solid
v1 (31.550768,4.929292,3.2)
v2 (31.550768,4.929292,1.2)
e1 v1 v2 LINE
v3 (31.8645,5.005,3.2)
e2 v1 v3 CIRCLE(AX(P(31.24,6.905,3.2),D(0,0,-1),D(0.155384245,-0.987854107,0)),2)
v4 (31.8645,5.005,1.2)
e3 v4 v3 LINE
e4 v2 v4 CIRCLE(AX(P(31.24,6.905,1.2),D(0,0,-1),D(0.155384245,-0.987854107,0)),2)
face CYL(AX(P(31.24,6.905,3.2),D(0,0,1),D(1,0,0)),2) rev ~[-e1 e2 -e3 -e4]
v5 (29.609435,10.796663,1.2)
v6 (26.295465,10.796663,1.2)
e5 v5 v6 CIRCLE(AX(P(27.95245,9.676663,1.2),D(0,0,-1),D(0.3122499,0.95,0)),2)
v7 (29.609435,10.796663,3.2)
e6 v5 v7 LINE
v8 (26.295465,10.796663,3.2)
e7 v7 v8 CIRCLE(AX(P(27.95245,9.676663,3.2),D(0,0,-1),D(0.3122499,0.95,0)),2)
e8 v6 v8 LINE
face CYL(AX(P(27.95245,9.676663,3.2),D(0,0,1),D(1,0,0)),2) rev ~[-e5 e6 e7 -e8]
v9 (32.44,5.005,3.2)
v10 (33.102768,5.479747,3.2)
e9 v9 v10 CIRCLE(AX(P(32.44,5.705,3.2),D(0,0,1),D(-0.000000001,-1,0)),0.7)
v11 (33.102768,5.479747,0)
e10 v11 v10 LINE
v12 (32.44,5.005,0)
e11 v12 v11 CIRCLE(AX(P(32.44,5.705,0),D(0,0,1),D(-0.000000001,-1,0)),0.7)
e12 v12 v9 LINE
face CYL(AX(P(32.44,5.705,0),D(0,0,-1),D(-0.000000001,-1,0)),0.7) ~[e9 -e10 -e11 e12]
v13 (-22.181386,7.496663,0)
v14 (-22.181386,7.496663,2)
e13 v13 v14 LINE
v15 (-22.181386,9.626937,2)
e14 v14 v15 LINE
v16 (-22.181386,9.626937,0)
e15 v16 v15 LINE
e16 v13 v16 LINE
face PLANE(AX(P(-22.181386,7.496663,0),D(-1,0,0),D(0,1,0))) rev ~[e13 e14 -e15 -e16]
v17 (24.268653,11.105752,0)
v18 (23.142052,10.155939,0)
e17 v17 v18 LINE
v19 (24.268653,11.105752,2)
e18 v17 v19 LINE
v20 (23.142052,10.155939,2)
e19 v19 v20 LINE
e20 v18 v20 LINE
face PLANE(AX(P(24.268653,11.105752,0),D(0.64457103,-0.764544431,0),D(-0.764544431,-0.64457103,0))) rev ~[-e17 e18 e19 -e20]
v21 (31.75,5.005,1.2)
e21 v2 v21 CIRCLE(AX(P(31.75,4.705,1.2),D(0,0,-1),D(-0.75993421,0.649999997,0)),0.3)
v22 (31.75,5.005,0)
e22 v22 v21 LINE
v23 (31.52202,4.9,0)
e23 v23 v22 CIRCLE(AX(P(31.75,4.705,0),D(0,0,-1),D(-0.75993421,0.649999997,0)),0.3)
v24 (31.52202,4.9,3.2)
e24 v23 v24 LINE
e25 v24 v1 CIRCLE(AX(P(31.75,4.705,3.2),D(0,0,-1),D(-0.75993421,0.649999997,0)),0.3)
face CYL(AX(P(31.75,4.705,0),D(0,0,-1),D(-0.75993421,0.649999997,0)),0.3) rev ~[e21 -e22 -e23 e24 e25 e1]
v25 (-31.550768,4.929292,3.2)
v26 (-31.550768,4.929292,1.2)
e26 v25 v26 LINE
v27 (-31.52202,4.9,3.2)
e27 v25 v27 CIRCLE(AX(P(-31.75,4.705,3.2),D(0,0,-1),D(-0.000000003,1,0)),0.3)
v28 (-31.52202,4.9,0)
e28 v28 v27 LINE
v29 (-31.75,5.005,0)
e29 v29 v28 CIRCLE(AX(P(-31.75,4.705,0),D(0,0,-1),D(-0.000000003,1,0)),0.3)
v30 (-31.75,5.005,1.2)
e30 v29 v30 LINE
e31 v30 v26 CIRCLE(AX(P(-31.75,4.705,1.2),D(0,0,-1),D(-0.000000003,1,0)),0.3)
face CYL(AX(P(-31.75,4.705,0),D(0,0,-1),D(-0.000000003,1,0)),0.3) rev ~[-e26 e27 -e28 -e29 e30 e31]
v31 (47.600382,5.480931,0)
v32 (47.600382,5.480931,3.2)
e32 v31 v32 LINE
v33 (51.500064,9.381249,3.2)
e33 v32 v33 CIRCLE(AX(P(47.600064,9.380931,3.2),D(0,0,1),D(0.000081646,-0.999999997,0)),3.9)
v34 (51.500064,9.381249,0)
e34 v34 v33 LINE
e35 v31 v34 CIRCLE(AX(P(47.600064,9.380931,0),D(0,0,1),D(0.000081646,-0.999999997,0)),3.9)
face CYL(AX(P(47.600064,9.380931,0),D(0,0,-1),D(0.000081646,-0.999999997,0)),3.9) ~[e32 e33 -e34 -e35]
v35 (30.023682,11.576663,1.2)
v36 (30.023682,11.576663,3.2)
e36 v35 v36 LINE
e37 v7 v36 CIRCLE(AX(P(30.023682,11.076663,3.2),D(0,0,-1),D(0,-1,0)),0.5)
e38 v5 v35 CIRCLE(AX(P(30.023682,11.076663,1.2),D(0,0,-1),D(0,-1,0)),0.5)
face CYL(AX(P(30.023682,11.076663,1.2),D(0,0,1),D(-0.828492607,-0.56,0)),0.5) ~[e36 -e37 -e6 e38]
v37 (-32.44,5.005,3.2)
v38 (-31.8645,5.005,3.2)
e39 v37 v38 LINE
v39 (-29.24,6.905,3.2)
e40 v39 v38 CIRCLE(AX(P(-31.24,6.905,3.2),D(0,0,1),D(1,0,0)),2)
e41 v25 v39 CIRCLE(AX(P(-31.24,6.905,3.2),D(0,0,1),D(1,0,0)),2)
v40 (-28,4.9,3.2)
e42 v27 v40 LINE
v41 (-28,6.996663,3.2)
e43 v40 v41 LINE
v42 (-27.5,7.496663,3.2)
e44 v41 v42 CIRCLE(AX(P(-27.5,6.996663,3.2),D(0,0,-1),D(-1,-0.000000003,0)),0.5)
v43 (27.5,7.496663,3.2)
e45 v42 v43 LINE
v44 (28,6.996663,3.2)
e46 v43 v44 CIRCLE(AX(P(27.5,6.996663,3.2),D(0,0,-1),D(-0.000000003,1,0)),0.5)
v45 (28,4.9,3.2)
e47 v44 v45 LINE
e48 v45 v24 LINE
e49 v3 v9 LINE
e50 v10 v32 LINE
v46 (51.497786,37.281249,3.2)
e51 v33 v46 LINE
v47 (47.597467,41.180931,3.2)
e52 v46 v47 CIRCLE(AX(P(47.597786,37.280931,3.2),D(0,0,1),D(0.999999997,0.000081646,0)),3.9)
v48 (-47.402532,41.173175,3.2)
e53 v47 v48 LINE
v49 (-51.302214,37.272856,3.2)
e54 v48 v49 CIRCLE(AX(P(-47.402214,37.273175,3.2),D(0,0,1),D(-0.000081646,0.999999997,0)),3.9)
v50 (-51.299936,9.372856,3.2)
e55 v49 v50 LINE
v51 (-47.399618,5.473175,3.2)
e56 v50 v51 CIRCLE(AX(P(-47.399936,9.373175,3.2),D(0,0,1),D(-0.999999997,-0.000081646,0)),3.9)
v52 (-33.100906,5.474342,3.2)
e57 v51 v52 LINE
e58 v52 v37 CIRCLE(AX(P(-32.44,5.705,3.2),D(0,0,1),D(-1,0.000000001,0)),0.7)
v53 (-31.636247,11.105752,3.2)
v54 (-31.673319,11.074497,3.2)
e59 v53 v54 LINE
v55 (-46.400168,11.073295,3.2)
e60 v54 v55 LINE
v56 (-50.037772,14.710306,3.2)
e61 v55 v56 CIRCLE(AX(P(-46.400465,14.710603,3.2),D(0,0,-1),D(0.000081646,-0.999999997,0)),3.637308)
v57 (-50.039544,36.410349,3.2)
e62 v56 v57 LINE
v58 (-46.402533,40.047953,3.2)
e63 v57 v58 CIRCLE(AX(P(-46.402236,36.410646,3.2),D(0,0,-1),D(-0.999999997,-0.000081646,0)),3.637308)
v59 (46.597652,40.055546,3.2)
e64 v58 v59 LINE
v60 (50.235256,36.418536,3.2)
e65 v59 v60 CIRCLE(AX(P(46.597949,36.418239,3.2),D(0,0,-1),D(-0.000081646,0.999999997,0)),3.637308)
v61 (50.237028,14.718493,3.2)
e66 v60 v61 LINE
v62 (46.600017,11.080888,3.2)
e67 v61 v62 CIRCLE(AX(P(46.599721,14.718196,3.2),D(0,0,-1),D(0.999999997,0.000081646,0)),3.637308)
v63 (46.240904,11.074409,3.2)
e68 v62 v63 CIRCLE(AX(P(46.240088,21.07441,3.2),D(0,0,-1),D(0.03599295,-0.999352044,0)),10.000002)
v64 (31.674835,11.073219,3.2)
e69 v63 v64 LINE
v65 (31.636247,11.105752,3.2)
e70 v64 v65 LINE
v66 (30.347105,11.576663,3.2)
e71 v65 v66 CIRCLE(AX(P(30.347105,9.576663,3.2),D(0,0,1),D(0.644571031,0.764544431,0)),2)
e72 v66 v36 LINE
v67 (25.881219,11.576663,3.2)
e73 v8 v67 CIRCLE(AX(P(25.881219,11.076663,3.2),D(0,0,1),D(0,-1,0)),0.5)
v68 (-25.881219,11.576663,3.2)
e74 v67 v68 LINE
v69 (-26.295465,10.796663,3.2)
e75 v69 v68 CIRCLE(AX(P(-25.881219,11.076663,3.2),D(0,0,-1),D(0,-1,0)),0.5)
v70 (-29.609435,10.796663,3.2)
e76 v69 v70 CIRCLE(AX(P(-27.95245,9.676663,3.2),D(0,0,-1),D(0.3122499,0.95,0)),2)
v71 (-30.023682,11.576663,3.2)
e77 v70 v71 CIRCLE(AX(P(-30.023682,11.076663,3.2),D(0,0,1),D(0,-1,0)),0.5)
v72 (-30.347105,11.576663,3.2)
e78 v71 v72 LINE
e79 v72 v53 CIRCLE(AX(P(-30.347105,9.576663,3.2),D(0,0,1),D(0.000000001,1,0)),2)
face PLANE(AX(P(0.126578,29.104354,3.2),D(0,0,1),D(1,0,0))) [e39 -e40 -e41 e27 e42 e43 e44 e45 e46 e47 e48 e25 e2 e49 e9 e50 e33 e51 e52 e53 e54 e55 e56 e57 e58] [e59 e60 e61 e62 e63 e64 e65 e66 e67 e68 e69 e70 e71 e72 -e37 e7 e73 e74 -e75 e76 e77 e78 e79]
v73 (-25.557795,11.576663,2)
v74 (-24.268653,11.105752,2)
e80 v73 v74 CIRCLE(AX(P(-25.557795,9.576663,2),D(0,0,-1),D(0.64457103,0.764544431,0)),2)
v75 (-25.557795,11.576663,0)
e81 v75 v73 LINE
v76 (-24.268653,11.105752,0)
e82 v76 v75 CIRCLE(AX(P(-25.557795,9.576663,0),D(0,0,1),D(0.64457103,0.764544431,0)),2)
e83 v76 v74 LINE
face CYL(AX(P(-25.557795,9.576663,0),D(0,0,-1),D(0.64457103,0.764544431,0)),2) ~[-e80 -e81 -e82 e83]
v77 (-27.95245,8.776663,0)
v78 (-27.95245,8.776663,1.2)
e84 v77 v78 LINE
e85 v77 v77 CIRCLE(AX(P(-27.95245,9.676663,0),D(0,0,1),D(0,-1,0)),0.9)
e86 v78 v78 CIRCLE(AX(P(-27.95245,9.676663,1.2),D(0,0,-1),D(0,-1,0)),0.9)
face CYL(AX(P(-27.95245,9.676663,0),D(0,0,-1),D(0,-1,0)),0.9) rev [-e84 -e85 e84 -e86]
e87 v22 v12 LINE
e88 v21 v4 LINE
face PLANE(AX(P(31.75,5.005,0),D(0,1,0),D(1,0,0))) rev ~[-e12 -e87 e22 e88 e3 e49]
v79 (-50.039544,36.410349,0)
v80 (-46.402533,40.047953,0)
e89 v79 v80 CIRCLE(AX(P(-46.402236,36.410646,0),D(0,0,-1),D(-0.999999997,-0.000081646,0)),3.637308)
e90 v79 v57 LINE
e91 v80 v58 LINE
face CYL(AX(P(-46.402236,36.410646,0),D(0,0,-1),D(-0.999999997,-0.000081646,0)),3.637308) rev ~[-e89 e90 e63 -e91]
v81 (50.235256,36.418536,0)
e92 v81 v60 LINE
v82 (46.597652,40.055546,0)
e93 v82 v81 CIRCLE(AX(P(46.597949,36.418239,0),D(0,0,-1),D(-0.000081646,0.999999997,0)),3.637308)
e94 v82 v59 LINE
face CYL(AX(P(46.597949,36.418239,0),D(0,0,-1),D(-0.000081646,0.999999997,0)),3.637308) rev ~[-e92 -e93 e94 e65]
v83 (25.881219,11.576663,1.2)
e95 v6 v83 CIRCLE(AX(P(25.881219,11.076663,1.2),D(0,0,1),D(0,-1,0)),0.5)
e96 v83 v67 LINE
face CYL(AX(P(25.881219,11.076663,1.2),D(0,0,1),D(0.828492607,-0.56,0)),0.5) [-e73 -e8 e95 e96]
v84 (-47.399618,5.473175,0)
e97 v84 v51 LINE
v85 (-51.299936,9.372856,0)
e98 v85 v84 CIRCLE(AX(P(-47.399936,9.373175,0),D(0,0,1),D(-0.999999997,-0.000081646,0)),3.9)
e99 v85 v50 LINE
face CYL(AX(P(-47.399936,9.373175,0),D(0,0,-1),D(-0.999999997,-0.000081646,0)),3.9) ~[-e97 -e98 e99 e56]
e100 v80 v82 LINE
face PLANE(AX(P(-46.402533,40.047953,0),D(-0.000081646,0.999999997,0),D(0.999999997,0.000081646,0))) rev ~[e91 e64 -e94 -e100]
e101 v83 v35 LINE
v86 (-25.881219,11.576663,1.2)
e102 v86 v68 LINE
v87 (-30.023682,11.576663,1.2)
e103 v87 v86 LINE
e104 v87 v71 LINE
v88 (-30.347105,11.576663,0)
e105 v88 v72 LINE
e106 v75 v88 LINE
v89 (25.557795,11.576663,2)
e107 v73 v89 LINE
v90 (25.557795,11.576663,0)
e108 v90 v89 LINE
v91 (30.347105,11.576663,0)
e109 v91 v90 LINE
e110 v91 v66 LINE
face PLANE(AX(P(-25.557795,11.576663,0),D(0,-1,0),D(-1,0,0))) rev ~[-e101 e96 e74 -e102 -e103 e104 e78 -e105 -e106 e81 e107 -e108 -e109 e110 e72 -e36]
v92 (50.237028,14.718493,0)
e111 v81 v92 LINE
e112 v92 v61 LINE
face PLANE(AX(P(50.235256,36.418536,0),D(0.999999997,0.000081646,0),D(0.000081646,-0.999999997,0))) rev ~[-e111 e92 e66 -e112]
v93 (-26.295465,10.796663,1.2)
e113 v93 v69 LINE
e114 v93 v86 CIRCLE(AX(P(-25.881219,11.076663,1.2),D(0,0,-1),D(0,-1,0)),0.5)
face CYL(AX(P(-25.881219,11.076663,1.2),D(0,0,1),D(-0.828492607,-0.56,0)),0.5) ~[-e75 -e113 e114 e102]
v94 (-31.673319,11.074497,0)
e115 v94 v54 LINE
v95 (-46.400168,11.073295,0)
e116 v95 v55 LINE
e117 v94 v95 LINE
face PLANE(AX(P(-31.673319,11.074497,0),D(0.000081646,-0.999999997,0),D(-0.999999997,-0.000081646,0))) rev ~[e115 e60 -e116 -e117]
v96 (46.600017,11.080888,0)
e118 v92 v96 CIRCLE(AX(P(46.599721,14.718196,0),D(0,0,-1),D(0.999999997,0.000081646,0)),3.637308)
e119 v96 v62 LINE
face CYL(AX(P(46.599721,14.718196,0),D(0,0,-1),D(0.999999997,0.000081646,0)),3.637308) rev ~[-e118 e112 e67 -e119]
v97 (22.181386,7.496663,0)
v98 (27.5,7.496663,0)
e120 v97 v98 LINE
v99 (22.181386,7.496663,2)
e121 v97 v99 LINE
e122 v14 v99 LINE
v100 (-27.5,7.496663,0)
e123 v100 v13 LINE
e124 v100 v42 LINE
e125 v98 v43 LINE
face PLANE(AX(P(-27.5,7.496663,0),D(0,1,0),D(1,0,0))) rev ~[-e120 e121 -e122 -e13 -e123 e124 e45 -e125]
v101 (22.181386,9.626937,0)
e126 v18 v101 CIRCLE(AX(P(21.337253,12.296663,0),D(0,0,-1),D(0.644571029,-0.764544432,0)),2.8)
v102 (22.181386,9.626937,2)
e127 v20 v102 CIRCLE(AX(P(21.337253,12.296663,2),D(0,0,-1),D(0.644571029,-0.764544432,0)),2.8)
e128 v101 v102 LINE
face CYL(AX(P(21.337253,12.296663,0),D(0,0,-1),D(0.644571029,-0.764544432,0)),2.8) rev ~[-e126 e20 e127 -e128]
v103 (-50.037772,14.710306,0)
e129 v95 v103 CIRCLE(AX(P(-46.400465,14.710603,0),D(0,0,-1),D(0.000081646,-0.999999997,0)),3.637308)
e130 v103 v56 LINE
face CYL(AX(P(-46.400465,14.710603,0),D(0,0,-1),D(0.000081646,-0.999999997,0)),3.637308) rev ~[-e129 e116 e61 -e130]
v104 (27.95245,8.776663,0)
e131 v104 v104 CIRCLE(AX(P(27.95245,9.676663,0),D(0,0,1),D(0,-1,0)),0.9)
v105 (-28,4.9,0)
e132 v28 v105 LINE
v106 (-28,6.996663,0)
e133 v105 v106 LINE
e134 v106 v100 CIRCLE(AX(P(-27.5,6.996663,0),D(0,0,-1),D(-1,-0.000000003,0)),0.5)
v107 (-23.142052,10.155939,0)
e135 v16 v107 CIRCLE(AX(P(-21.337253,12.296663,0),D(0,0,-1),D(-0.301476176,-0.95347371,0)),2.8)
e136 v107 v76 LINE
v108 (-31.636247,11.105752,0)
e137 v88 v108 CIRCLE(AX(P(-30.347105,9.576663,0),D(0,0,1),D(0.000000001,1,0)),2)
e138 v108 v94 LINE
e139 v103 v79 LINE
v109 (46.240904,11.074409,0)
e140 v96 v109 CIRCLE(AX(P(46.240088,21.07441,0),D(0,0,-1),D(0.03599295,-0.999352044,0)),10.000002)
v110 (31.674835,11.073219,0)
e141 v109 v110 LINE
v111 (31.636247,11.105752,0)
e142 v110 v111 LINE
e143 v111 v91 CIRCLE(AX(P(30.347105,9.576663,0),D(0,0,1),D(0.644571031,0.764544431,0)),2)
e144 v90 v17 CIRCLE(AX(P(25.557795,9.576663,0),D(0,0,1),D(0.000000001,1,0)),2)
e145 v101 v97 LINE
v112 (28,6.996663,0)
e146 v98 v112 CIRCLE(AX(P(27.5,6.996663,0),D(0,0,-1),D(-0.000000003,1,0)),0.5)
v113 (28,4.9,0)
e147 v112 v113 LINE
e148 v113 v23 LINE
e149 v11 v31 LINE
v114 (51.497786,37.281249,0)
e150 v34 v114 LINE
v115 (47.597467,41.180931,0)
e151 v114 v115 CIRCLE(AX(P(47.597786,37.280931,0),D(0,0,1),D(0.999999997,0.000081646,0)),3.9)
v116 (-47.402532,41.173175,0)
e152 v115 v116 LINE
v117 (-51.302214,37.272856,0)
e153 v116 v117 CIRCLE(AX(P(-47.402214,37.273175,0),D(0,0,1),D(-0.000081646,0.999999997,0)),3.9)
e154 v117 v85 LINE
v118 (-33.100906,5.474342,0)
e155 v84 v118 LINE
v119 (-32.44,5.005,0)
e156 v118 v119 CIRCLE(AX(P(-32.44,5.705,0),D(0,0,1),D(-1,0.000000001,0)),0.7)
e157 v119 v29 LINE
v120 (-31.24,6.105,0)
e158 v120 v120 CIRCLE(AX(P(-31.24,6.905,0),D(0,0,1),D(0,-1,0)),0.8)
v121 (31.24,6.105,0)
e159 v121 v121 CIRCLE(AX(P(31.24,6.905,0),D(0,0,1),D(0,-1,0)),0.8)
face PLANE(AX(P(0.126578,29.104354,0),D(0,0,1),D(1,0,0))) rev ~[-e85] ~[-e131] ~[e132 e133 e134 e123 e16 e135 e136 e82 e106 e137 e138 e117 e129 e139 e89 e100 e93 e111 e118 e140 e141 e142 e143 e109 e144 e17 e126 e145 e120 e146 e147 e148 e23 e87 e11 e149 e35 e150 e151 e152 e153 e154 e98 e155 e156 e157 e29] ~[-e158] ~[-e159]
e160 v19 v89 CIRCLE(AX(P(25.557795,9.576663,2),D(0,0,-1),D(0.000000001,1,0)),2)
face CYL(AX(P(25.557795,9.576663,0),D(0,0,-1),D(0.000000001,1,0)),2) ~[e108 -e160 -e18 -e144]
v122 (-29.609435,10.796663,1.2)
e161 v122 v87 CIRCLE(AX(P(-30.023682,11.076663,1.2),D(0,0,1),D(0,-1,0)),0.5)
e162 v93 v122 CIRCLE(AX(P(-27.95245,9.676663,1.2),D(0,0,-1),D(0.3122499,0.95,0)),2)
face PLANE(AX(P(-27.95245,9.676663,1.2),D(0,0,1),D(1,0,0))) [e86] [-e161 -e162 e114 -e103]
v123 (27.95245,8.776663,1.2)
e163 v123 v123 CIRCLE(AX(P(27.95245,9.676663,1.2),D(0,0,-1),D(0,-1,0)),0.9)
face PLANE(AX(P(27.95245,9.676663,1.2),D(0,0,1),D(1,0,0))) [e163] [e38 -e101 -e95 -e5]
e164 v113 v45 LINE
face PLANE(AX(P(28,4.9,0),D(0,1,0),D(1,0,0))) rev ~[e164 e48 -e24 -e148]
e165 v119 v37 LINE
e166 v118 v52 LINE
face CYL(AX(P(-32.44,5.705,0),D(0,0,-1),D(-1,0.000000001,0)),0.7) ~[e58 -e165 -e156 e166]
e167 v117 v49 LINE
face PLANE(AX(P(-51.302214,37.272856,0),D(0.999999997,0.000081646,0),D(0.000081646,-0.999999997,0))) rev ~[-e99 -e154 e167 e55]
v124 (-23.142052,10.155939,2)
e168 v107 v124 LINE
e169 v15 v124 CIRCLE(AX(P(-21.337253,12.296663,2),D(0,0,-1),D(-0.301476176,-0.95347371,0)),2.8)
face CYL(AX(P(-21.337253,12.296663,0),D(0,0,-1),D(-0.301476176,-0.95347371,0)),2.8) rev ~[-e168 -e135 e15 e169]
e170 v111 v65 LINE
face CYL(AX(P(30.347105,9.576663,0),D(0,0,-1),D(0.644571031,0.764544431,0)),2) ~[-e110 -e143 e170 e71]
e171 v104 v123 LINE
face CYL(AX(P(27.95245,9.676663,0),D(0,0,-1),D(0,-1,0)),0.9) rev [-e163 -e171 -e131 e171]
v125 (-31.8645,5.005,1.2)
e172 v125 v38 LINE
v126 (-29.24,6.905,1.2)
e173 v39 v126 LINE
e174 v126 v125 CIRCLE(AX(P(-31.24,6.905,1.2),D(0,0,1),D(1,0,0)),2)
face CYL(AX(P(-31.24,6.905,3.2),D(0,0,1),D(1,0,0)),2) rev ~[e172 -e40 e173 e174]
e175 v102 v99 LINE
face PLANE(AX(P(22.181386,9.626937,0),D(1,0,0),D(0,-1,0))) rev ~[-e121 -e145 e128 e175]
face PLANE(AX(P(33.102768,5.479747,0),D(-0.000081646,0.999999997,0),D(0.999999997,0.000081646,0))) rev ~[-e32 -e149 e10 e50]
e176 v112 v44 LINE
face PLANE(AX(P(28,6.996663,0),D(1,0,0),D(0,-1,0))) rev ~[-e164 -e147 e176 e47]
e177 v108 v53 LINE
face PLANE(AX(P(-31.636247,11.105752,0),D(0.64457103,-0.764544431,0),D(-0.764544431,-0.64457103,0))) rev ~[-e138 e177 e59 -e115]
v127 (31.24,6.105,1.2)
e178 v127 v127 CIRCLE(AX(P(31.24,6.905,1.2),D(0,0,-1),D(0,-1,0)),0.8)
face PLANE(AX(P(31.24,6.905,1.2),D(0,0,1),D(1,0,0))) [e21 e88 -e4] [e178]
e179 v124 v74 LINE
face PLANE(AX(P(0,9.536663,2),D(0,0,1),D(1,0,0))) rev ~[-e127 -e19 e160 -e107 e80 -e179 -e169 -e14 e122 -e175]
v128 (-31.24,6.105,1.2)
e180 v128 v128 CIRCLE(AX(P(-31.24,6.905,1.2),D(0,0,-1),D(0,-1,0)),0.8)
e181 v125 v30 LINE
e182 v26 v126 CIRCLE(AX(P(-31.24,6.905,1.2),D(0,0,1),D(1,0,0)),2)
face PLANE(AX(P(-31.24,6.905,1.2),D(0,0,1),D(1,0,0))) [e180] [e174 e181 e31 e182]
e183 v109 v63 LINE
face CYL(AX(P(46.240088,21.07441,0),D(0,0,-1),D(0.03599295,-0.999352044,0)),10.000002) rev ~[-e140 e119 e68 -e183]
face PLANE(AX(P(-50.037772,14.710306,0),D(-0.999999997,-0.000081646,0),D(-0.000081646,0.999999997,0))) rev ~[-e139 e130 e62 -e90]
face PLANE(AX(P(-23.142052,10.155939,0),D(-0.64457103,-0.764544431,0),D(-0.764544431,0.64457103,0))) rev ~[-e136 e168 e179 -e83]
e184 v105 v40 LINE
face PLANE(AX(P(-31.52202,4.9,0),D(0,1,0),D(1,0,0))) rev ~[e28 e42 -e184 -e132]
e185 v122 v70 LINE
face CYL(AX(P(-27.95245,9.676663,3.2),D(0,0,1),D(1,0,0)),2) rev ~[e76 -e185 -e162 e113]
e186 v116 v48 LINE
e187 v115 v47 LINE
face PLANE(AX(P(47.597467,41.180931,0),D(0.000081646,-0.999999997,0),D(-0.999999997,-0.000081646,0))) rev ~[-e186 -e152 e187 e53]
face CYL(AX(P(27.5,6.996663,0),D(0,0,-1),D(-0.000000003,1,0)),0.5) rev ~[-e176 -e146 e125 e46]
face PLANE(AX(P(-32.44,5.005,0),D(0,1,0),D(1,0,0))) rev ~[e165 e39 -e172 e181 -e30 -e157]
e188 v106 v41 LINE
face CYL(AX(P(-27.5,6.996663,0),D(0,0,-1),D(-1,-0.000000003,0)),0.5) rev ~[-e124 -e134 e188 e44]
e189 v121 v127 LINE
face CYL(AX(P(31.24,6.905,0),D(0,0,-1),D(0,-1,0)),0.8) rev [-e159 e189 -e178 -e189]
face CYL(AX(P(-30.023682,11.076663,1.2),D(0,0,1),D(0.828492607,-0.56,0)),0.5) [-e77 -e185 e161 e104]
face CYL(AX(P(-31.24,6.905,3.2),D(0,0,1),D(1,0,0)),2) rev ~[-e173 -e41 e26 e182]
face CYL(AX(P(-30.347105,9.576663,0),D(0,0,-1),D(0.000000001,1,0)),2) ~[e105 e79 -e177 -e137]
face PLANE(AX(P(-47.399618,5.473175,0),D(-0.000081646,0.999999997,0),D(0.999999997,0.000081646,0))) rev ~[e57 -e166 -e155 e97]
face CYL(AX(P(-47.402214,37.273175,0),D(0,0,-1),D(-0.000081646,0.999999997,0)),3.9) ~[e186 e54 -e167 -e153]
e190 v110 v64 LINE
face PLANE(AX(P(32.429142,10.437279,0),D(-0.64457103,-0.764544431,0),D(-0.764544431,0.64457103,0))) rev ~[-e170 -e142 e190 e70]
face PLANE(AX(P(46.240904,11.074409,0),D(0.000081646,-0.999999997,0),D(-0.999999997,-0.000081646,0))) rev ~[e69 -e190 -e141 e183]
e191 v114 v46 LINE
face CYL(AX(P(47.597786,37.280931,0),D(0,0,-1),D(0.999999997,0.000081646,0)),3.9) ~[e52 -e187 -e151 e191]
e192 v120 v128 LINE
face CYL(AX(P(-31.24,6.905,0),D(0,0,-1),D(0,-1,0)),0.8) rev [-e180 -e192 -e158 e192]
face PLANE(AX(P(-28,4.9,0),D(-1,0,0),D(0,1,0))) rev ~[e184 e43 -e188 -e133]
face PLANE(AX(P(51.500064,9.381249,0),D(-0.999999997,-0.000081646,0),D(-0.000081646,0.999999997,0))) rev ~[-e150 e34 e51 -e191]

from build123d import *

# Parameters (mm, degrees)
SKETCH_1_R          = 0.9
SKETCH_1_R_2        = 0.8
EXTRUDE_1_DEPTH     = 3.2
EXTRUDE_1_2_DEPTH   = 3.2
SKETCH_2_W          = 51.115590172
SKETCH_2_H          = 4.08
EXTRUDE_2_DEPTH     = 1.2
EXTRUDE_START       = -3.2
EXTRUDE_3_DEPTH     = 3.2
SKETCH_4_R          = 2
CUT_EXTRUDE_1_DEPTH = 2
FILLET_1_R          = 0.5


with BuildPart() as part:
    # 草图1 → 凸台-拉伸1 (new body)
    with BuildSketch(Plane.XY):
        with BuildLine():
            Line((-32.44, 5.005), (-31.75, 5.005))
            ThreePointArc((-31.75, 5.005), (-31.624500996, 4.977488532), (-31.522019738, 4.9))
            Line((-31.522019738, 4.9), (-28, 4.9))
            Line((-28, 4.9), (-28, 6.996662954))
            ThreePointArc((-28, 6.996662954), (-27.853553391, 7.350216345), (-27.5, 7.496662954))
            Line((-27.5, 7.496662954), (-22.181386307, 7.496662954))
            Line((-22.181386307, 7.496662954), (-22.181386307, 9.626936565))
            ThreePointArc((-22.181386307, 9.626936565), (-22.687871835, 9.843944297), (-23.142051903, 10.155938547))
            Line((-23.142051903, 10.155938547), (-24.268653026, 11.105751817))
            ThreePointArc((-24.268653026, 11.105751817), (-24.871565433, 11.455249887), (-25.557795086, 11.576662954))
            Line((-25.557795086, 11.576662954), (-30.347104952, 11.576662954))
            ThreePointArc((-30.347104952, 11.576662954), (-31.033334605, 11.455249887), (-31.636247011, 11.105751817))
            Line((-31.636247011, 11.105751817), (-32.42914206, 10.437278989))
            ThreePointArc((-32.42914206, 10.437278989), (-32.9535992, 9.751314044), (-33.14, 8.908190127))
            Line((-33.14, 8.908190127), (-33.14, 5.705))
            ThreePointArc((-33.14, 5.705), (-32.934974747, 5.210025253), (-32.44, 5.005))
        make_face()
        with Locations(Location((-27.952450019, 9.676662954, 0), (0, 0, 270))):
            Circle(SKETCH_1_R, mode=Mode.SUBTRACT)
        with Locations(Location((-31.24, 6.905, 0), (0, 0, 270))):
            Circle(SKETCH_1_R_2, mode=Mode.SUBTRACT)
    extrude(amount=EXTRUDE_1_DEPTH)



with BuildPart() as body_2:
    # 草图1 → Extrude 1 2 (new body)
    with BuildSketch(Plane.XY):
        with BuildLine():
            Line((28, 6.996662954), (28, 4.9))
            Line((28, 4.9), (31.522019738, 4.9))
            ThreePointArc((31.522019738, 4.9), (31.624500996, 4.977488532), (31.75, 5.005))
            Line((31.75, 5.005), (32.44, 5.005))
            ThreePointArc((32.44, 5.005), (32.934974747, 5.210025253), (33.14, 5.705))
            Line((33.14, 5.705), (33.14, 8.908190127))
            ThreePointArc((33.14, 8.908190127), (32.9535992, 9.751314044), (32.42914206, 10.437278989))
            Line((32.42914206, 10.437278989), (31.636247011, 11.105751817))
            ThreePointArc((31.636247011, 11.105751817), (31.033334605, 11.455249887), (30.347104952, 11.576662954))
            Line((30.347104952, 11.576662954), (25.557795086, 11.576662954))
            ThreePointArc((25.557795086, 11.576662954), (24.871565433, 11.455249887), (24.268653026, 11.105751817))
            Line((24.268653026, 11.105751817), (23.142051903, 10.155938547))
            ThreePointArc((23.142051903, 10.155938547), (22.687871835, 9.843944297), (22.181386307, 9.626936565))
            Line((22.181386307, 9.626936565), (22.181386307, 7.496662954))
            Line((22.181386307, 7.496662954), (27.5, 7.496662954))
            ThreePointArc((27.5, 7.496662954), (27.853553391, 7.350216345), (28, 6.996662954))
        make_face()
        with Locations(Location((27.952450019, 9.676662954, 0), (0, 0, 270))):
            Circle(SKETCH_1_R, mode=Mode.SUBTRACT)
        with Locations(Location((31.24, 6.905, 0), (0, 0, 270))):
            Circle(SKETCH_1_R_2, mode=Mode.SUBTRACT)
    extrude(amount=EXTRUDE_1_2_DEPTH)


with BuildPart() as part_1:
    add(part.part)

    add(body_2.part)  # 凸台-拉伸2 merges body 2
    # 草图2 → 凸台-拉伸2 (add)
    with BuildSketch(Plane.XY.offset(3.2)):
        with Locations((0, 9.536662954)):
            Rectangle(SKETCH_2_W, SKETCH_2_H)
    extrude(amount=-EXTRUDE_2_DEPTH)

    # 草图3 → 凸台-拉伸3 (add)
    with BuildSketch(Plane.XY.offset(3.2).offset(EXTRUDE_START)):
        with BuildLine():
            Line((46.240904424, 11.074408529), (31.674834812, 11.073219269))
            Line((31.674834812, 11.073219269), (32.42914206, 10.437278989))
            ThreePointArc((32.42914206, 10.437278989), (32.9535992, 9.751314044), (33.14, 8.908190127))
            Line((33.14, 8.908190127), (33.14, 5.705))
            ThreePointArc((33.14, 5.705), (33.130629249, 5.59084554), (33.102767884, 5.479747403))
            Line((33.102767884, 5.479747403), (47.600381988, 5.480931075))
            ThreePointArc((47.600381988, 5.480931075), (50.358005162, 6.623439781), (51.500063555, 9.381249481))
            Line((51.500063555, 9.381249481), (51.497785633, 37.281249388))
            ThreePointArc((51.497785633, 37.281249388), (50.355276927, 40.038872563), (47.597467227, 41.180930956))
            Line((47.597467227, 41.180930956), (-47.402532456, 41.17317459))
            ThreePointArc((-47.402532456, 41.17317459), (-50.160155631, 40.030665884), (-51.302214024, 37.272856184))
            Line((-51.302214024, 37.272856184), (-51.299936102, 9.372856277))
            ThreePointArc((-51.299936102, 9.372856277), (-50.157427396, 6.615233102), (-47.399617696, 5.473174709))
            Line((-47.399617696, 5.473174709), (-33.10090616, 5.474342141))
            ThreePointArc((-33.10090616, 5.474342141), (-33.130157341, 5.58802631), (-33.14, 5.705))
            Line((-33.14, 5.705), (-33.14, 8.908190127))
            ThreePointArc((-33.14, 8.908190127), (-32.9535992, 9.751314044), (-32.42914206, 10.437278989))
            Line((-32.42914206, 10.437278989), (-31.673318835, 11.074497357))
            Line((-31.673318835, 11.074497357), (-46.40016763, 11.073294969))
            ThreePointArc((-46.40016763, 11.073294969), (-48.972219468, 12.138427704), (-50.037772184, 14.71030558))
            Line((-50.037772184, 14.71030558), (-50.039543904, 36.410348688))
            ThreePointArc((-50.039543904, 36.410348688), (-48.974411169, 38.982400526), (-46.402533293, 40.047953242))
            Line((-46.402533293, 40.047953242), (46.597651817, 40.055546331))
            ThreePointArc((46.597651817, 40.055546331), (49.169703655, 38.990413596), (50.235256371, 36.41853572))
            Line((50.235256371, 36.41853572), (50.237028092, 14.718492612))
            ThreePointArc((50.237028092, 14.718492612), (49.171895357, 12.146440774), (46.600017481, 11.080888058))
            ThreePointArc((46.600017481, 11.080888058), (46.420490045, 11.076035874), (46.240904424, 11.074408529))
        make_face()
    extrude(amount=EXTRUDE_3_DEPTH)

    # 草图4 → 切除-拉伸1 (cut)
    with BuildSketch(Plane.XY.offset(3.2)):
        with Locations((-27.952450019, 9.676662954)):
            Circle(SKETCH_4_R)
        with Locations((27.952450019, 9.676662954)):
            Circle(SKETCH_4_R)
        with Locations((-31.24, 6.905)):
            Circle(SKETCH_4_R)
        with Locations((31.24, 6.905)):
            Circle(SKETCH_4_R)
    extrude(amount=-CUT_EXTRUDE_1_DEPTH, mode=Mode.SUBTRACT)

    # 圆角1
    fillet_1_edges = [part_1.edges().sort_by_distance(p)[0] for p in [
        (-27.327950219, 11.576662954, 2.2),
        (-28.576949819, 11.576662954, 2.2),
        (28.576949819, 11.576662954, 2.2),
        (27.327950219, 11.576662954, 2.2),
    ]]
    fillet(fillet_1_edges, radius=FILLET_1_R)


solid = part_1.part
